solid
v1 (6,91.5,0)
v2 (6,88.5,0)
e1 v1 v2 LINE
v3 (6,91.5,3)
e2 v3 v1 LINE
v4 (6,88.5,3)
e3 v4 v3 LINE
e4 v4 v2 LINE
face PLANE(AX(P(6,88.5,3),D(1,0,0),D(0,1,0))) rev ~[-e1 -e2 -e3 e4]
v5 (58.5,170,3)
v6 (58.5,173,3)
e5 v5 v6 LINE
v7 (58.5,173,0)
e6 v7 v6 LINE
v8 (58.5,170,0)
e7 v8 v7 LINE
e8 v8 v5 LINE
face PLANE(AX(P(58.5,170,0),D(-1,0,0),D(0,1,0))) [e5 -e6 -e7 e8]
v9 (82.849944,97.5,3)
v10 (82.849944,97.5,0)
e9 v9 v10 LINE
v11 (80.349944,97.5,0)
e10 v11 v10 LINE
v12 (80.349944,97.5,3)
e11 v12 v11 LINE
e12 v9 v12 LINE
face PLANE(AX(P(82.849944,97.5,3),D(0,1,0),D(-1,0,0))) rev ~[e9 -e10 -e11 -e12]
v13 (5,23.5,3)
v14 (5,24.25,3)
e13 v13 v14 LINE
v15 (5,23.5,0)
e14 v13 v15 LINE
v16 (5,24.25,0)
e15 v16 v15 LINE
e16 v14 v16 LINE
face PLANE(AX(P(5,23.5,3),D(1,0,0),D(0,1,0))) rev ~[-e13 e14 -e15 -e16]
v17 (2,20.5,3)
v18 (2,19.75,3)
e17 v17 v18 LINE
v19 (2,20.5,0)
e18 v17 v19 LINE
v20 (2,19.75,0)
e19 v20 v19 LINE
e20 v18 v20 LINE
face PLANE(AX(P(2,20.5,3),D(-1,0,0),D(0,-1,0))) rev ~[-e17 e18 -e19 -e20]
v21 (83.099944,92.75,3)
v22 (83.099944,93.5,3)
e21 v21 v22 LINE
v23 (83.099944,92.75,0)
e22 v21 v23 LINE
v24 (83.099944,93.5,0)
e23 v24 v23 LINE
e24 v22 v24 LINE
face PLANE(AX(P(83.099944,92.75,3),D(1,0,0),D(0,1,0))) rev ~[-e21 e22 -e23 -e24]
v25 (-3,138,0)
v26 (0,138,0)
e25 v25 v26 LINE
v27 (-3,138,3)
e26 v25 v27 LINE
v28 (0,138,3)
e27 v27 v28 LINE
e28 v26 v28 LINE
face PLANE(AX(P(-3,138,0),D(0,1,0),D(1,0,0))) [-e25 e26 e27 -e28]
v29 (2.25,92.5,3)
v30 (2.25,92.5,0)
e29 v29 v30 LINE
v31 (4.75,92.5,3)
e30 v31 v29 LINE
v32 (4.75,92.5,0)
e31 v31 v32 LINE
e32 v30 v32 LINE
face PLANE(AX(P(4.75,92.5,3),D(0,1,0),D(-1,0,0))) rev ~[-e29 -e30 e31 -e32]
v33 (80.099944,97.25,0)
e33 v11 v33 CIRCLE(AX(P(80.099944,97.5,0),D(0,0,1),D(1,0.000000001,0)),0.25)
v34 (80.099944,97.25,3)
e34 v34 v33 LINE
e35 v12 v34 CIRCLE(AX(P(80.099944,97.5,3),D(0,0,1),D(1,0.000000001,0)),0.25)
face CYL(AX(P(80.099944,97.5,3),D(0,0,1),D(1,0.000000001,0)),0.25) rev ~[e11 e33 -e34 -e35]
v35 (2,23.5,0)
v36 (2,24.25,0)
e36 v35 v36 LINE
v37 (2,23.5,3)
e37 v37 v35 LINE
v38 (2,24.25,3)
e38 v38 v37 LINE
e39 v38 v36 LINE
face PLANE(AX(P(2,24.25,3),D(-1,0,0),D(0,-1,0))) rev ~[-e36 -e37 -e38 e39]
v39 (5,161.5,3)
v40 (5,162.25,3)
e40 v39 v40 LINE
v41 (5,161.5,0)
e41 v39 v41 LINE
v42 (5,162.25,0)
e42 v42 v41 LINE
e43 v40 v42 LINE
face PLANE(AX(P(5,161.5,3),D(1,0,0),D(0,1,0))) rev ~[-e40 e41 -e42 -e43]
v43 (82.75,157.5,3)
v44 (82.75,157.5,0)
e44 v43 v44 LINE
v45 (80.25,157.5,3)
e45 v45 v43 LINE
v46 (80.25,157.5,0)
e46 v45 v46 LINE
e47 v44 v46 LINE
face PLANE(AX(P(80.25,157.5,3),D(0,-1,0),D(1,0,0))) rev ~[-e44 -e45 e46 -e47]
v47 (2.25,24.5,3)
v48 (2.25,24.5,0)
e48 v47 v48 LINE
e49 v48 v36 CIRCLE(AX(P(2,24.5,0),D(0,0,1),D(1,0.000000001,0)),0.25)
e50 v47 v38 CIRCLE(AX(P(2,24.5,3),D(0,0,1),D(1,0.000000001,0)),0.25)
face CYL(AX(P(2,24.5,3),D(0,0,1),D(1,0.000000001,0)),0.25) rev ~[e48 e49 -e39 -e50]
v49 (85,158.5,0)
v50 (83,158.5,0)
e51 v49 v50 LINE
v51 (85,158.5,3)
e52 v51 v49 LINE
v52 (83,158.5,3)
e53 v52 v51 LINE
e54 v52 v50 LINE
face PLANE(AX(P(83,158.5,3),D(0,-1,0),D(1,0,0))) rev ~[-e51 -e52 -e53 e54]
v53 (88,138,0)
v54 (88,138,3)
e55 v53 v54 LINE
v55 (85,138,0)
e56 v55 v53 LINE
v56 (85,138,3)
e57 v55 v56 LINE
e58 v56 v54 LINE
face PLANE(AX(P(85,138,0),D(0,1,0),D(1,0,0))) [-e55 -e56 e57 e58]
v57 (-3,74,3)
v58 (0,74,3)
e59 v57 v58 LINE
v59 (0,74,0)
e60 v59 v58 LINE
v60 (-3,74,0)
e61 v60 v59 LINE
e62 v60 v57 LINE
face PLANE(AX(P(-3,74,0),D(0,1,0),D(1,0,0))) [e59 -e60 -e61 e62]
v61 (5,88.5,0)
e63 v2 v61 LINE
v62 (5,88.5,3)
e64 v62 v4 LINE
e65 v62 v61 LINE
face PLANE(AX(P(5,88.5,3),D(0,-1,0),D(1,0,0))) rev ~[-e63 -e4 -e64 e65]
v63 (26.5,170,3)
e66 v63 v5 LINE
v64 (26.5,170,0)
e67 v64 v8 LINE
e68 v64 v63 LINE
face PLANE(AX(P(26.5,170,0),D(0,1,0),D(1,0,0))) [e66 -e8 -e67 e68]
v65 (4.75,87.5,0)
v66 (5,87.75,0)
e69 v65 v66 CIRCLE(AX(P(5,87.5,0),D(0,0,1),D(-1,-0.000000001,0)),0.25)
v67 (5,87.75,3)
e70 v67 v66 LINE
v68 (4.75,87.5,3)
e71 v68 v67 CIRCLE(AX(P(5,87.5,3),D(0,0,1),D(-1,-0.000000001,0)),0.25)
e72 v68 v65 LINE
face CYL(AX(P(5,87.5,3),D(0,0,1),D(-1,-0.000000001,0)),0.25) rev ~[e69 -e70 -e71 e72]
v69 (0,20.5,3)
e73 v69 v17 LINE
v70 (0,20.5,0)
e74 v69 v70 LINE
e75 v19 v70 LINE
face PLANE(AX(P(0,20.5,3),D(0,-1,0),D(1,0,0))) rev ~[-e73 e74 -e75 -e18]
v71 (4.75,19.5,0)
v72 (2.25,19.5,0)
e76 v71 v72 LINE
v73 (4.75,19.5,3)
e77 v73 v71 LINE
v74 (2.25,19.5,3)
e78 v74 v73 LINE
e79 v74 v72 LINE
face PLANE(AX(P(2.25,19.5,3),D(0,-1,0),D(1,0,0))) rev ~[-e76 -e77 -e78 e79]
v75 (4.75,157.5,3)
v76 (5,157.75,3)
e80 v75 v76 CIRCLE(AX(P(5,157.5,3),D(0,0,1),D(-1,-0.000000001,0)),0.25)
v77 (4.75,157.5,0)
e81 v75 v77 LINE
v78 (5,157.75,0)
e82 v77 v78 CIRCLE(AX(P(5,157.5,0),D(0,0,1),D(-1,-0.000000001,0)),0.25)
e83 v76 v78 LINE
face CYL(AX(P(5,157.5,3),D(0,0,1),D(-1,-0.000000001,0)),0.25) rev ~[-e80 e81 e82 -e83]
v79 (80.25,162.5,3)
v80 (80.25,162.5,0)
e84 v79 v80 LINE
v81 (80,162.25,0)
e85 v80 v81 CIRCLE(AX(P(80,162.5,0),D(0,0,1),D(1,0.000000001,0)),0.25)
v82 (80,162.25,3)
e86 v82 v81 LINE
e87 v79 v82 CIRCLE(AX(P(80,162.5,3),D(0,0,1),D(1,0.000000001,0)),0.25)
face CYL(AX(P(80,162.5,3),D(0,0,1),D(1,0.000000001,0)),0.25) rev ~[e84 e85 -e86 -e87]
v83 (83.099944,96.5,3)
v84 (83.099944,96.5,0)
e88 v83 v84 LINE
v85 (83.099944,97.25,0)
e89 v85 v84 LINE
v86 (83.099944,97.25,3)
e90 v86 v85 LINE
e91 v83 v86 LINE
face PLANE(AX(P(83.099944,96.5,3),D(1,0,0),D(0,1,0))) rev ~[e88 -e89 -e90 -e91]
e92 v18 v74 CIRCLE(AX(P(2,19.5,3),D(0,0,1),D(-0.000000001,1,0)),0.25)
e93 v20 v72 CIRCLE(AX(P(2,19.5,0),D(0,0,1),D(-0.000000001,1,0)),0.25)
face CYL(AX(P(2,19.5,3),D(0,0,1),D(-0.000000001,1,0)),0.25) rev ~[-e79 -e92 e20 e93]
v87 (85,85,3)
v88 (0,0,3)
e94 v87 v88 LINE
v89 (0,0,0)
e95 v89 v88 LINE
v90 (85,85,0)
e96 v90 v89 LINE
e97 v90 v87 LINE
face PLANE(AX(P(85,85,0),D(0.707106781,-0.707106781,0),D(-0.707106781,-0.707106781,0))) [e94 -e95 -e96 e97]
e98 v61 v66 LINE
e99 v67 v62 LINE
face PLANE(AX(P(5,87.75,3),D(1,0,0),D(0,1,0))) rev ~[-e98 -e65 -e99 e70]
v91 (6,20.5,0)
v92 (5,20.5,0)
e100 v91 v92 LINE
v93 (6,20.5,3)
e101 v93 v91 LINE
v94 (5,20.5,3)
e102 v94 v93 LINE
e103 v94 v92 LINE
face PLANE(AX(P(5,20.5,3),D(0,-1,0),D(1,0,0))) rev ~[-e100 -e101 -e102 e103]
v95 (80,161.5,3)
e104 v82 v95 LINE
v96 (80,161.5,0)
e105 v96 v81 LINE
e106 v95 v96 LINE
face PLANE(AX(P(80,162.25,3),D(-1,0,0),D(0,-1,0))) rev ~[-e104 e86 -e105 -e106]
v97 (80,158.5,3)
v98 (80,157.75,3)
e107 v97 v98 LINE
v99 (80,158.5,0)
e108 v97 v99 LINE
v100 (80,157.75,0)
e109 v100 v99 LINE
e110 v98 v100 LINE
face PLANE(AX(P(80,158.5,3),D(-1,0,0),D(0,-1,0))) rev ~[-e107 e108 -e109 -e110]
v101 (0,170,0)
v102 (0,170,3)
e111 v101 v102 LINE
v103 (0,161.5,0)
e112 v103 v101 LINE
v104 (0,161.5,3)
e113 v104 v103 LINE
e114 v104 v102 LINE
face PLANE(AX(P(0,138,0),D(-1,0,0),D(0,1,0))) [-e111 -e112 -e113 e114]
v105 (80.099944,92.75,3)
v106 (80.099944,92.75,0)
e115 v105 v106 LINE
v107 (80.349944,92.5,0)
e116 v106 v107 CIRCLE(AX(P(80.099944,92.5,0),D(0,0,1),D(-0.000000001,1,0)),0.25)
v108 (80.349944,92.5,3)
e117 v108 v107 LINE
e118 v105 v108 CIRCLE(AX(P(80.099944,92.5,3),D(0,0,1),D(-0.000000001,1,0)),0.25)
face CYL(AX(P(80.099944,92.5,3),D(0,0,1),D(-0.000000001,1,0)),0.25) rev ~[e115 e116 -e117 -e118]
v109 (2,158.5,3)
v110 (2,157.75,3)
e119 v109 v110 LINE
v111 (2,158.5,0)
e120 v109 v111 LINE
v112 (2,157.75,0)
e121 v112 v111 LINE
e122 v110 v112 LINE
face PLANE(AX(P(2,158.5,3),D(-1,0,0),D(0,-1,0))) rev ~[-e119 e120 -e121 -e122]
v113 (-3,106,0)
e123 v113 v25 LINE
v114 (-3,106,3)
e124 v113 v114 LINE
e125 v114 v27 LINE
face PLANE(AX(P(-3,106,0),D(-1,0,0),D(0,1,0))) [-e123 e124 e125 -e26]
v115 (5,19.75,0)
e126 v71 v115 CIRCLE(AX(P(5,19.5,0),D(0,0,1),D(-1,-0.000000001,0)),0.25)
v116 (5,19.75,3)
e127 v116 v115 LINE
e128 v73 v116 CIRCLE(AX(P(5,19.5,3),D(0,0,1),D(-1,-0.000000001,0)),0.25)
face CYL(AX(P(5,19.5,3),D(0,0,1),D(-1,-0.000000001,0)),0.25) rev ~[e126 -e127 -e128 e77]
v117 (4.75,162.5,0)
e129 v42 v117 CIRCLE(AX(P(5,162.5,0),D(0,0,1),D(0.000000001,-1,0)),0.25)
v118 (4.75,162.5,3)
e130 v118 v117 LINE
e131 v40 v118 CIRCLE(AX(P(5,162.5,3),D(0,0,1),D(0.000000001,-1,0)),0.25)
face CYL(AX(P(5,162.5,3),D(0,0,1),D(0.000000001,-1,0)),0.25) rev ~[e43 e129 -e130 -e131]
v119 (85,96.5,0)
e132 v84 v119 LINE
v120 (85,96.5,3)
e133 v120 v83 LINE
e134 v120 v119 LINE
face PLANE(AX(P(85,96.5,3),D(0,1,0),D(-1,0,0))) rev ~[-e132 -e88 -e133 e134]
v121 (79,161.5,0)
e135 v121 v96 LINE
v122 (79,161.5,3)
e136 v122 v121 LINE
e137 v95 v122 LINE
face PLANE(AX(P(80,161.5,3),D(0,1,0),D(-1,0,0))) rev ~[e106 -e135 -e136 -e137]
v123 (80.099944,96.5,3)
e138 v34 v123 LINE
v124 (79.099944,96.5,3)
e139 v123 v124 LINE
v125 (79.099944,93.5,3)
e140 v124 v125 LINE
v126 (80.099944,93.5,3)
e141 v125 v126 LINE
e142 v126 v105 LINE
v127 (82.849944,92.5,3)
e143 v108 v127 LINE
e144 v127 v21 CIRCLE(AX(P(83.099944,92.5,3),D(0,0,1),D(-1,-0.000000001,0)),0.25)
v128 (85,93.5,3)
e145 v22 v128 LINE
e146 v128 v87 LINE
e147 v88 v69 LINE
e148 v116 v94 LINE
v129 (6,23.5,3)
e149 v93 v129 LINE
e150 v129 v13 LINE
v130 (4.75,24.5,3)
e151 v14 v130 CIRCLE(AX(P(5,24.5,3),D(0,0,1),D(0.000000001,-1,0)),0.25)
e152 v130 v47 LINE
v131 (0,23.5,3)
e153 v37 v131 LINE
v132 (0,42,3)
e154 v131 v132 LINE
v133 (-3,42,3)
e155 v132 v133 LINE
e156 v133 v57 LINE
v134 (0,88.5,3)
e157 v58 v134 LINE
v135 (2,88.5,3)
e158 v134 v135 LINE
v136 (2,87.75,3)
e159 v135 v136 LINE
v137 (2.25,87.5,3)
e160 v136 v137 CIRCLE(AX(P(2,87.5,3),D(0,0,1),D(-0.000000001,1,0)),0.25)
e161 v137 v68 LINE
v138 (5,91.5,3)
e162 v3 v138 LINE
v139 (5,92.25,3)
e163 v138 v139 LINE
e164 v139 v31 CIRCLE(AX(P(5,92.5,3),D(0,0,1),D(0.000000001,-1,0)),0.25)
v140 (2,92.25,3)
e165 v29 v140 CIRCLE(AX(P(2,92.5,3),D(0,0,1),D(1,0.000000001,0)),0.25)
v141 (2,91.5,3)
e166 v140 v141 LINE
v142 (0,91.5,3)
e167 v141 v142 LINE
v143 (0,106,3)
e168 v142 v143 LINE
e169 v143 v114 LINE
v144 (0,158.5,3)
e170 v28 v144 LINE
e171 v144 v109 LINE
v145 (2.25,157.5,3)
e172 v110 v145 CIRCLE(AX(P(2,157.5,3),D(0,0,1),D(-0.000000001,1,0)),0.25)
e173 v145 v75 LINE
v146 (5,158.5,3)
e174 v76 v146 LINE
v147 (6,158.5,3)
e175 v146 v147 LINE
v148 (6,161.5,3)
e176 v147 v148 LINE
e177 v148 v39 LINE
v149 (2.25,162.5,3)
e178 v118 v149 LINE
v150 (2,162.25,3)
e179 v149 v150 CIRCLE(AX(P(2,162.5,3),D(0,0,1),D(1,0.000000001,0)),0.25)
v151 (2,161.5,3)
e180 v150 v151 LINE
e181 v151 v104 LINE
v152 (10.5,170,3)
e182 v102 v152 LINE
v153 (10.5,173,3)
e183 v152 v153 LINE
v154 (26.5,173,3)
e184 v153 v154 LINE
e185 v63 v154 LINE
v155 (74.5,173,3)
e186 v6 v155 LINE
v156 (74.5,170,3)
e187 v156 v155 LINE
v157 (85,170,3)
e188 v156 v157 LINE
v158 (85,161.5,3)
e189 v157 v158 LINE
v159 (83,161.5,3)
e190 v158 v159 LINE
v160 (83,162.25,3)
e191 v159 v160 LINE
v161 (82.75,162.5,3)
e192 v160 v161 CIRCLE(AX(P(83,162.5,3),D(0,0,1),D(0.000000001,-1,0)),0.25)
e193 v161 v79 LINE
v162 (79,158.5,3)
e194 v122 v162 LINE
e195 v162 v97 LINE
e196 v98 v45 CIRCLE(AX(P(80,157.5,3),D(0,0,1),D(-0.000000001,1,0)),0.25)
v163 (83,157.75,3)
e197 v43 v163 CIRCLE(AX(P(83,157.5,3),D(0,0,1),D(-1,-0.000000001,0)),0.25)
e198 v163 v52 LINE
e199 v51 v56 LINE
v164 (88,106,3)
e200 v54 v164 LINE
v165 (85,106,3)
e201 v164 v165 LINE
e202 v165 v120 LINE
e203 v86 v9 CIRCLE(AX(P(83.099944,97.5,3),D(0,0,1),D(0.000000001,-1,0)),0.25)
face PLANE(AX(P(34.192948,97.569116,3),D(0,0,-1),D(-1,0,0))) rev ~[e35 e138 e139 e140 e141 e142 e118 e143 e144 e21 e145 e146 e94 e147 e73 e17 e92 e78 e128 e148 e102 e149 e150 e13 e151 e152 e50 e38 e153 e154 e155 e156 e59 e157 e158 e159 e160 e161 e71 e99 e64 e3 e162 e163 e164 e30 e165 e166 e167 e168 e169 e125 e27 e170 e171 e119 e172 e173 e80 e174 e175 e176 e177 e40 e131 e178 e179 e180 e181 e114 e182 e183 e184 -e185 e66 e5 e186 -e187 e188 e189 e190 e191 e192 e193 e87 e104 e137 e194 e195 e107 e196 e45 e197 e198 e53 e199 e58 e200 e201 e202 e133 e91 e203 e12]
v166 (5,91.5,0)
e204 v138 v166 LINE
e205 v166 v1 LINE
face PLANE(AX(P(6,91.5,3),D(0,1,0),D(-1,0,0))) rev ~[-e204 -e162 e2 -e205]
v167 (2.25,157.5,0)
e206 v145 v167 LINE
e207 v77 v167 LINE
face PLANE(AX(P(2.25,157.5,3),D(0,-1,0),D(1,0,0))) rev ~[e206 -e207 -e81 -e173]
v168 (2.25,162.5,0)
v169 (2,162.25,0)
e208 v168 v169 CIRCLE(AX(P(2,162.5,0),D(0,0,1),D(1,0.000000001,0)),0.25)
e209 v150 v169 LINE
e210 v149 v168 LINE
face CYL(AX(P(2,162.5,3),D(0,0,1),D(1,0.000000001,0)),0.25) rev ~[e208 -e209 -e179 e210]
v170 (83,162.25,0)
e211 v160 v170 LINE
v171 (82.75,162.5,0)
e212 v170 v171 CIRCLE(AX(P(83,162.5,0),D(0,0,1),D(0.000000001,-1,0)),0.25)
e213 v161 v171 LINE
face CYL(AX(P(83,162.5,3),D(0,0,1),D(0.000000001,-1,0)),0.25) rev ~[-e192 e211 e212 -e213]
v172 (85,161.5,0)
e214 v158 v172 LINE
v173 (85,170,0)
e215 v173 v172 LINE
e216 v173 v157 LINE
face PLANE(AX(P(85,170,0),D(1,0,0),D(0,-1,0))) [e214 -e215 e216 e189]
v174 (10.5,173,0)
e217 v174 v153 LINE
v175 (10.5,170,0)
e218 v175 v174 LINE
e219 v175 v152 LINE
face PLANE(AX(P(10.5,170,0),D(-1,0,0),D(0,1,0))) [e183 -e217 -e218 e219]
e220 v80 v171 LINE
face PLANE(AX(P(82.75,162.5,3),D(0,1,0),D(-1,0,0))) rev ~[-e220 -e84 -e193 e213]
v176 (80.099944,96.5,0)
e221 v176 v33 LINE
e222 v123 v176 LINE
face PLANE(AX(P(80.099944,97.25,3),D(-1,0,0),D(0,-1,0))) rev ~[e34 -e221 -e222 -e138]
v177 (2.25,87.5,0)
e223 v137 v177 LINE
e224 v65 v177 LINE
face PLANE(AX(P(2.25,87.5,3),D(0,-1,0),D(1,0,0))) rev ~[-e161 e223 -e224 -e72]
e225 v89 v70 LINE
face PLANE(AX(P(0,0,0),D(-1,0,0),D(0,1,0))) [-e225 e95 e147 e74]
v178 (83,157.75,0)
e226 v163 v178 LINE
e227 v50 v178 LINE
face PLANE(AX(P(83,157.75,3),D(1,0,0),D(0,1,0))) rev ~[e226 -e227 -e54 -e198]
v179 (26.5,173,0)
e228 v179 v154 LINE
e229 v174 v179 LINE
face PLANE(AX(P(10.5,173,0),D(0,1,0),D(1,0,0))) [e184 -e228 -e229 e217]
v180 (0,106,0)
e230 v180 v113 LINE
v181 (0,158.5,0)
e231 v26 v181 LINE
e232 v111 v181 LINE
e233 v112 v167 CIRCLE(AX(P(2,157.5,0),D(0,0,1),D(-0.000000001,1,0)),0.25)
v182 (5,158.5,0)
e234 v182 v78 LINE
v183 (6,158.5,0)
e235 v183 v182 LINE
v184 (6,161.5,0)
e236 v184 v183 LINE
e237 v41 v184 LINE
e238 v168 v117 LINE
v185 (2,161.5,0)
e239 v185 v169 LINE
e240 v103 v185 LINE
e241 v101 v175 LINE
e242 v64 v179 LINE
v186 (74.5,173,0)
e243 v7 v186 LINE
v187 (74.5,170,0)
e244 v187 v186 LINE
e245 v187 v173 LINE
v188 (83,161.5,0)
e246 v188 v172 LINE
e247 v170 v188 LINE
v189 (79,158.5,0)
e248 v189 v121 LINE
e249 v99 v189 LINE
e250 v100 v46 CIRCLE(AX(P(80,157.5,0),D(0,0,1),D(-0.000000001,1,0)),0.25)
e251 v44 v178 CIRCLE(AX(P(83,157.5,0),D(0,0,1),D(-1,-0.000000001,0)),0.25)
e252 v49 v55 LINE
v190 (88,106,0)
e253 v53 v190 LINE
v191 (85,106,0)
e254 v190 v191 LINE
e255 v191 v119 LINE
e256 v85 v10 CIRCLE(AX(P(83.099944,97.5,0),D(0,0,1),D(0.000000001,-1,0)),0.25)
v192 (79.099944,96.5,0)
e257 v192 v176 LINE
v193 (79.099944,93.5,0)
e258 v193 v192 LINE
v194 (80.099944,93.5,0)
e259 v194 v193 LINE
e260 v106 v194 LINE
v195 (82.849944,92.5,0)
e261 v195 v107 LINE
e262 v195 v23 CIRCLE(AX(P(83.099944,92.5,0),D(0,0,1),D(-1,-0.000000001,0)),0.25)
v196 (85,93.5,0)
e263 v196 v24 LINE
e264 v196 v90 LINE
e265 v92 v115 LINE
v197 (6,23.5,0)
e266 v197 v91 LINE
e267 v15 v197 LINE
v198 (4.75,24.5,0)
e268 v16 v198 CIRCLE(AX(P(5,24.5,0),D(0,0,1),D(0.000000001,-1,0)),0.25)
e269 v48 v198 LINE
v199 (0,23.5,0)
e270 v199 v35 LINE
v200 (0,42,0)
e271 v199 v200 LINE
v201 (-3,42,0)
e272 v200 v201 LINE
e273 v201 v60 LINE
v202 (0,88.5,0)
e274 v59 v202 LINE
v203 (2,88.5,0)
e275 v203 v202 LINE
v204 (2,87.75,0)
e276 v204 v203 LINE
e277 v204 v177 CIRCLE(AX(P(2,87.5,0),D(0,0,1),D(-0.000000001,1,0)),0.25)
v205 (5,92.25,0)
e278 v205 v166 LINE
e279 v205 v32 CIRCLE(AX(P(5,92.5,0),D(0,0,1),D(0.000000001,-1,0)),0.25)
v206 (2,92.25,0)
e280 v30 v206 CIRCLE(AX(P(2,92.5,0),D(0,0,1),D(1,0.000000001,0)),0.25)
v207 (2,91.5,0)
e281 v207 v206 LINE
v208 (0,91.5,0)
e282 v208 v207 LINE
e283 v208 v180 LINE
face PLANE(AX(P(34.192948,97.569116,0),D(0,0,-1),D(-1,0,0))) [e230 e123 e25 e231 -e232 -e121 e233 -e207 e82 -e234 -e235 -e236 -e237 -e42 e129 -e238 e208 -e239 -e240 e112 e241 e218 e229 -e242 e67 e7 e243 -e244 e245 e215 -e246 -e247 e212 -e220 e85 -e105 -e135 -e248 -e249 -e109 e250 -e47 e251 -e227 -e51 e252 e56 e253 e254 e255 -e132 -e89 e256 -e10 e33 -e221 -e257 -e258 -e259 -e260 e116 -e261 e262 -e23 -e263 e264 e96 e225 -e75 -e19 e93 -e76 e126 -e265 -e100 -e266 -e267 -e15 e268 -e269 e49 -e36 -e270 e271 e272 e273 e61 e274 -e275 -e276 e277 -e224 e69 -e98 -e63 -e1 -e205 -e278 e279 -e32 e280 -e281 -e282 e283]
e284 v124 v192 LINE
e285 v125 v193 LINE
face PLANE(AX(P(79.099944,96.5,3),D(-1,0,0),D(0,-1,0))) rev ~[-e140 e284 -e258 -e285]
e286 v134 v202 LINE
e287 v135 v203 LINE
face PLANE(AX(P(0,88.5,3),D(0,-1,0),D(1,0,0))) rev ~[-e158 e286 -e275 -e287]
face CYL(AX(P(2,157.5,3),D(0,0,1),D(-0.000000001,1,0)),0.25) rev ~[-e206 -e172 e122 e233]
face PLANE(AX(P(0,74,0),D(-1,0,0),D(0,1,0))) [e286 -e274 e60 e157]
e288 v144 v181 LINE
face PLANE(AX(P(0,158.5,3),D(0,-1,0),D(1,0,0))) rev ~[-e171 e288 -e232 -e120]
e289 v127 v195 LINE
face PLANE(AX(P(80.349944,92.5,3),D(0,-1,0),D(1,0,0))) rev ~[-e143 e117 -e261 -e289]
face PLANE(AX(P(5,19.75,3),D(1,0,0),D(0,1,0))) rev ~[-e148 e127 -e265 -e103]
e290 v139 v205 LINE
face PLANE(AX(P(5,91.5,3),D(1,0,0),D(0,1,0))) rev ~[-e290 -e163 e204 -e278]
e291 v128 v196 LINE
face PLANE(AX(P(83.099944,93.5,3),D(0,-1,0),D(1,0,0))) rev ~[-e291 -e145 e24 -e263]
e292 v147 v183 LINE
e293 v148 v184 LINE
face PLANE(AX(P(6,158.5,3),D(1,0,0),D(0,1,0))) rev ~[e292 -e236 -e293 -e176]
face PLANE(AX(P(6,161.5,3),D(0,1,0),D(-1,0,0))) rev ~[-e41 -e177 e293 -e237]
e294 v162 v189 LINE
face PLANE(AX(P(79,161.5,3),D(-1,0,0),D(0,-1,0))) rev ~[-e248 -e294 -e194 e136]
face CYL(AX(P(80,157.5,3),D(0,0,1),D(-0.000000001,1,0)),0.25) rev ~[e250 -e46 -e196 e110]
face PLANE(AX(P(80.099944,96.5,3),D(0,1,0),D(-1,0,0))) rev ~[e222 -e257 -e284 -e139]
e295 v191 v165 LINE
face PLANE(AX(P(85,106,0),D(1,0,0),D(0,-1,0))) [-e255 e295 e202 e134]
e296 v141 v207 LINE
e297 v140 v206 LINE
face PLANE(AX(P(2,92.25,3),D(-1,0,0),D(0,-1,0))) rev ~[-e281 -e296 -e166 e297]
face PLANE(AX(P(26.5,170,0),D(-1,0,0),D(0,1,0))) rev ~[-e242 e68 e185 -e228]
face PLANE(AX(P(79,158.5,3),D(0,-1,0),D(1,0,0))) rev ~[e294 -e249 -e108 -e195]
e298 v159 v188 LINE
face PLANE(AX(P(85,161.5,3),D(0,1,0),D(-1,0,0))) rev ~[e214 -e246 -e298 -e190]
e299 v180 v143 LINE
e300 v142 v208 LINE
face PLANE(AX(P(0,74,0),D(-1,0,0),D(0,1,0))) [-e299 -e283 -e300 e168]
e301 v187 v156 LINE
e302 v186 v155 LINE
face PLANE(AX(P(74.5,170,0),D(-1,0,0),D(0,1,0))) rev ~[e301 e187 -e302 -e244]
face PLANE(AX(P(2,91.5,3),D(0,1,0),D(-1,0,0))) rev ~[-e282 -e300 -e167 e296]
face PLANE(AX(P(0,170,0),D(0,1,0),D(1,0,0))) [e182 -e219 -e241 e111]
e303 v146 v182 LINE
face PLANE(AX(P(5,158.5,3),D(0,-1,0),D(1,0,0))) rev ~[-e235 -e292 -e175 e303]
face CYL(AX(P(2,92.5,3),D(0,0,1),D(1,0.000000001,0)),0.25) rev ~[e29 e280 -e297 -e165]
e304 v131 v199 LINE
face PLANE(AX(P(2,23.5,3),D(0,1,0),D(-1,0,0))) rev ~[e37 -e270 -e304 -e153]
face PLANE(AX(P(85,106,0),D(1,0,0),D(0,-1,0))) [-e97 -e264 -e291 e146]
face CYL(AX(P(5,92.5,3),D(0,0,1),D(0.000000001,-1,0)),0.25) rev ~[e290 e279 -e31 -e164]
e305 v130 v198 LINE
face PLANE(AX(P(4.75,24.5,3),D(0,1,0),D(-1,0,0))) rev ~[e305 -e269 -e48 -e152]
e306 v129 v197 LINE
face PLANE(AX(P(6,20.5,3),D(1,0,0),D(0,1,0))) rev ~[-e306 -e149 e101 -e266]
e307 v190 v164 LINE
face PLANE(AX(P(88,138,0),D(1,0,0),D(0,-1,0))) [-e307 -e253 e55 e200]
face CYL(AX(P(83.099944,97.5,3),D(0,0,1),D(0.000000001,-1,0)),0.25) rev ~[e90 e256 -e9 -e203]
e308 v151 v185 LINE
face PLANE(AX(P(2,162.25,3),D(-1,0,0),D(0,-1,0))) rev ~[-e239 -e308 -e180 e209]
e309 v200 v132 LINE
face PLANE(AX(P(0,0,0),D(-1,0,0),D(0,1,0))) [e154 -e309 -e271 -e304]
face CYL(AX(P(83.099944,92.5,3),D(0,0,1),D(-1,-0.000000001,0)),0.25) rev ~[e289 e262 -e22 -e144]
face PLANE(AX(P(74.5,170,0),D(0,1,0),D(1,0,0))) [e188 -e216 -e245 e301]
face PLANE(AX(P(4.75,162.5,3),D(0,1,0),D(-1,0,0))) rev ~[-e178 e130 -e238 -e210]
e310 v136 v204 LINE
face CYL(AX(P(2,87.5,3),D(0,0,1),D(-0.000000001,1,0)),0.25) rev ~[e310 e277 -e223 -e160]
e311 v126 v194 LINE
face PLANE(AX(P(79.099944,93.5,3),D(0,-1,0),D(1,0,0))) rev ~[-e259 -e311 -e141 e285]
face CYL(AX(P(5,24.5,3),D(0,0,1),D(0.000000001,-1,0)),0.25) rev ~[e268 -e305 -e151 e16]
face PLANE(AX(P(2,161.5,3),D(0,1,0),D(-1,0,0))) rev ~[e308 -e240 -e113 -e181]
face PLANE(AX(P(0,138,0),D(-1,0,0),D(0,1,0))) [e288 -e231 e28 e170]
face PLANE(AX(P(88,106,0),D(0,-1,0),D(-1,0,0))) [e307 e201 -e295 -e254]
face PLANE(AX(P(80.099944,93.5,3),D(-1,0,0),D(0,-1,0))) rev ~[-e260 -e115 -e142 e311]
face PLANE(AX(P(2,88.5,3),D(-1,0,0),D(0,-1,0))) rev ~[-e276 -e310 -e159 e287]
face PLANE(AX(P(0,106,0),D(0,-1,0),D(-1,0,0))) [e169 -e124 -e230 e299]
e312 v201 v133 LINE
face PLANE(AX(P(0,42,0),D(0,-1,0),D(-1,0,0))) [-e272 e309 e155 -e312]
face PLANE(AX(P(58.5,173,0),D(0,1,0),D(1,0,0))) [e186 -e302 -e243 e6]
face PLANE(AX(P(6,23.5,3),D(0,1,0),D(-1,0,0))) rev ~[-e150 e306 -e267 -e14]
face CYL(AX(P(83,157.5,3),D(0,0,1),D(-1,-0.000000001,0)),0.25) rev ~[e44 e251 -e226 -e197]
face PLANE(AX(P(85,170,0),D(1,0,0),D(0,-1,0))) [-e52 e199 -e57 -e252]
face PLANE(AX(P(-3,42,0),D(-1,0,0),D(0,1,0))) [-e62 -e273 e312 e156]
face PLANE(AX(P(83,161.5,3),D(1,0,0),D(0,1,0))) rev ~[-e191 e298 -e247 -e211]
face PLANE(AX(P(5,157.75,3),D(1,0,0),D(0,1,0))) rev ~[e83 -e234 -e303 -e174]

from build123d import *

# Parameters (mm, degrees)
CROQUIS1_W              = 16
CROQUIS1_H              = 3
SALIENTE_EXTRUIR1_DEPTH = 3
CORTAR_EXTRUIR1_DEPTH   = 195.118520497


with BuildPart() as part:
    # Croquis1 → Saliente-Extruir1 (new body)
    with BuildSketch(Plane.XY):
        Polygon((85, 106), (85, 85), (0, 0), (0, 42), (-3, 42), (-3, 74), (0, 74), (0, 106), (-3, 106), (-3, 138), (0, 138), (0, 170), (85, 170), (85, 138), (88, 138), (88, 106), align=None)
        with Locations((66.5, 171.5)):
            Rectangle(CROQUIS1_W, CROQUIS1_H)
        with Locations((18.5, 171.5)):
            Rectangle(CROQUIS1_W, CROQUIS1_H)
    extrude(amount=SALIENTE_EXTRUIR1_DEPTH)

    # Croquis2 → Cortar-Extruir1 (cut, through all)
    with BuildSketch(Plane.XY.offset(3)):
        with BuildLine():
            Line((2, 91.5), (0, 91.5))
            Line((0, 91.5), (0, 88.5))
            Line((0, 88.5), (2, 88.5))
            Line((2, 88.5), (2, 87.75))
            ThreePointArc((2, 87.75), (1.823223305, 87.323223305), (2.25, 87.5))
            Line((2.25, 87.5), (4.75, 87.5))
            ThreePointArc((4.75, 87.5), (5.176776695, 87.323223305), (5, 87.75))
            Line((5, 87.75), (5, 88.5))
            Line((5, 88.5), (6, 88.5))
            Line((6, 88.5), (6, 91.5))
            Line((6, 91.5), (5, 91.5))
            Line((5, 91.5), (5, 92.25))
            ThreePointArc((5, 92.25), (5.176776695, 92.676776695), (4.75, 92.5))
            Line((4.75, 92.5), (2.25, 92.5))
            ThreePointArc((2.25, 92.5), (1.823223305, 92.676776695), (2, 92.25))
            Line((2, 92.25), (2, 91.5))
        make_face()
        with BuildLine():
            Line((2, 161.5), (0, 161.5))
            Line((0, 161.5), (0, 158.5))
            Line((0, 158.5), (2, 158.5))
            Line((2, 158.5), (2, 157.75))
            ThreePointArc((2, 157.75), (1.823223305, 157.323223305), (2.25, 157.5))
            Line((2.25, 157.5), (4.75, 157.5))
            ThreePointArc((4.75, 157.5), (5.176776695, 157.323223305), (5, 157.75))
            Line((5, 157.75), (5, 158.5))
            Line((5, 158.5), (6, 158.5))
            Line((6, 158.5), (6, 161.5))
            Line((6, 161.5), (5, 161.5))
            Line((5, 161.5), (5, 162.25))
            ThreePointArc((5, 162.25), (5.176776695, 162.676776695), (4.75, 162.5))
            Line((4.75, 162.5), (2.25, 162.5))
            ThreePointArc((2.25, 162.5), (1.823223305, 162.676776695), (2, 162.25))
            Line((2, 162.25), (2, 161.5))
        make_face()
        with BuildLine():
            Line((83, 158.5), (85, 158.5))
            Line((85, 158.5), (85, 161.5))
            Line((85, 161.5), (83, 161.5))
            Line((83, 161.5), (83, 162.25))
            ThreePointArc((83, 162.25), (83.176776695, 162.676776695), (82.75, 162.5))
            Line((82.75, 162.5), (80.25, 162.5))
            ThreePointArc((80.25, 162.5), (79.823223305, 162.676776695), (80, 162.25))
            Line((80, 162.25), (80, 161.5))
            Line((80, 161.5), (79, 161.5))
            Line((79, 161.5), (79, 158.5))
            Line((79, 158.5), (80, 158.5))
            Line((80, 158.5), (80, 157.75))
            ThreePointArc((80, 157.75), (79.823223305, 157.323223305), (80.25, 157.5))
            Line((80.25, 157.5), (82.75, 157.5))
            ThreePointArc((82.75, 157.5), (83.176776695, 157.323223305), (83, 157.75))
            Line((83, 157.75), (83, 158.5))
        make_face()
        with BuildLine():
            Line((2, 23.5), (0, 23.5))
            Line((0, 23.5), (0, 20.5))
            Line((0, 20.5), (2, 20.5))
            Line((2, 20.5), (2, 19.75))
            ThreePointArc((2, 19.75), (1.823223305, 19.323223305), (2.25, 19.5))
            Line((2.25, 19.5), (4.75, 19.5))
            ThreePointArc((4.75, 19.5), (5.176776695, 19.323223305), (5, 19.75))
            Line((5, 19.75), (5, 20.5))
            Line((5, 20.5), (6, 20.5))
            Line((6, 20.5), (6, 23.5))
            Line((6, 23.5), (5, 23.5))
            Line((5, 23.5), (5, 24.25))
            ThreePointArc((5, 24.25), (5.176776695, 24.676776695), (4.75, 24.5))
            Line((4.75, 24.5), (2.25, 24.5))
            ThreePointArc((2.25, 24.5), (1.823223305, 24.676776695), (2, 24.25))
            Line((2, 24.25), (2, 23.5))
        make_face()
        with BuildLine():
            Line((83.099943711, 93.5), (85, 93.5))
            Line((85, 93.5), (85, 96.5))
            Line((85, 96.5), (83.099943711, 96.5))
            Line((83.099943711, 96.5), (83.099943711, 97.25))
            ThreePointArc((83.099943711, 97.25), (83.276720406, 97.676776695), (82.849943711, 97.5))
            Line((82.849943711, 97.5), (80.349943711, 97.5))
            ThreePointArc((80.349943711, 97.5), (79.923167016, 97.676776695), (80.099943711, 97.25))
            Line((80.099943711, 97.25), (80.099943711, 96.5))
            Line((80.099943711, 96.5), (79.099943711, 96.5))
            Line((79.099943711, 96.5), (79.099943711, 93.5))
            Line((79.099943711, 93.5), (80.099943711, 93.5))
            Line((80.099943711, 93.5), (80.099943711, 92.75))
            ThreePointArc((80.099943711, 92.75), (79.923167016, 92.323223305), (80.349943711, 92.5))
            Line((80.349943711, 92.5), (82.849943711, 92.5))
            ThreePointArc((82.849943711, 92.5), (83.276720406, 92.323223305), (83.099943711, 92.75))
            Line((83.099943711, 92.75), (83.099943711, 93.5))
        make_face()
    extrude(amount=-CORTAR_EXTRUIR1_DEPTH, mode=Mode.SUBTRACT)


solid = part.part
